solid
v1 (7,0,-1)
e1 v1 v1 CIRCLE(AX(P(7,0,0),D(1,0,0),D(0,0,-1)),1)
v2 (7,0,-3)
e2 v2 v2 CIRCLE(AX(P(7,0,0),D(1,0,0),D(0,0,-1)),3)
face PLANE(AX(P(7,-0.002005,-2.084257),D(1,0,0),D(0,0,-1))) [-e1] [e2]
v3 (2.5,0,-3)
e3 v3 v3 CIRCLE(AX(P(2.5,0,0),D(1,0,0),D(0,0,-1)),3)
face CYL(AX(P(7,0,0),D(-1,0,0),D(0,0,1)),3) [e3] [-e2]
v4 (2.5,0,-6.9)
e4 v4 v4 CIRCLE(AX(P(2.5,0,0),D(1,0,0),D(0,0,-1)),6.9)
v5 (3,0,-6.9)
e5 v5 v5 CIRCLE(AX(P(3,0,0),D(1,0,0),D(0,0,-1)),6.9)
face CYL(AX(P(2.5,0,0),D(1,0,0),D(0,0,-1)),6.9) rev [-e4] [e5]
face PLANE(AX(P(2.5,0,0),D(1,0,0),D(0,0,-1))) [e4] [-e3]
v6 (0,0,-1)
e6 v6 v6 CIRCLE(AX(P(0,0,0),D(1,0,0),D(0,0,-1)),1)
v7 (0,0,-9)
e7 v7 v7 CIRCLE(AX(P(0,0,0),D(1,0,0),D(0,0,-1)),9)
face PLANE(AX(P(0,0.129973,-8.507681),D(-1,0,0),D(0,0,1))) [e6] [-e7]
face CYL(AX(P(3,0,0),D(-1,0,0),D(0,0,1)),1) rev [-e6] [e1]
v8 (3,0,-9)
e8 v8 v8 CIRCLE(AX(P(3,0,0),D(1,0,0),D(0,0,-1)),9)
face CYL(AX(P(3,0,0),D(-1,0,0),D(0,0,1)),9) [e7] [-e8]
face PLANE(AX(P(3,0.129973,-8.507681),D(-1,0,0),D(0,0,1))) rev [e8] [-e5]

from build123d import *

# Parameters (mm, degrees)
ESQUISSE2_R             = 1
BOSS_EXTRU_1_DEPTH      = 3
ESQUISSE3_R             = 6.9
ENL_V_MAT_EXTRU_1_DEPTH = 0.5
ESQUISSE4_R             = 1
BOSS_EXTRU_2_DEPTH      = 4.5
BOSS_EXTRU_5_START      = -3
ESQUISSE7_R             = 9
ESQUISSE7_R_2           = 6.9
BOSS_EXTRU_5_DEPTH      = 3
BOSS_EXTRU_6_START      = -4.5
ESQUISSE8_R             = 3
ESQUISSE8_R_2           = 1
BOSS_EXTRU_6_DEPTH      = 4.5


with BuildPart() as part:
    # Esquisse2 → Boss.-Extru.1 (new body)
    with BuildSketch(Plane(origin=(0, 0, 0), x_dir=(0, 0, -1), z_dir=(1, 0, 0))):
        with BuildLine():
            ThreePointArc((8.992678526, 0.362950305), (8.983203595, 0.549593642), (8.969855294, 0.736000007))
            add(Edge.make_bspline(
                [(7.928017131, 0.973718567), (7.968735547, 0.978720051), (8.14599471, 0.972060465), (8.43210917, 0.923262044), (8.735368899, 0.829543111), (8.90576586, 0.762906571), (8.969855294, 0.736000007)],
                knots=[0, 0, 0, 0, 0.124841327, 0.52877899, 0.867841808, 1.076016146, 1.076016146, 1.076016146, 1.076016146], degree=3))
            ThreePointArc((7.928017131, 0.973718567), (7.845145349, 0.995861242), (7.801971612, 1.069983161))
            ThreePointArc((7.801971612, 1.069983161), (7.782401197, 1.204099918), (7.760525474, 1.337859996))
            ThreePointArc((7.760525474, 1.337859996), (7.7791127, 1.421320515), (7.851006147, 1.467607399))
            add(Edge.make_bspline(
                [(7.851006147, 1.467607399), (7.891911369, 1.47525391), (8.058869705, 1.535171146), (8.316858832, 1.668153777), (8.577616241, 1.849137964), (8.719907754, 1.964153953), (8.772869142, 2.009170729)],
                knots=[0, 0, 0, 0, 0.124841327, 0.52877899, 0.867841808, 1.076016146, 1.076016146, 1.076016146, 1.076016146], degree=3))
            ThreePointArc((8.772869142, 2.009170729), (8.729259916, 2.190895095), (8.681886815, 2.371674793))
            add(Edge.make_bspline(
                [(7.614107256, 2.413908484), (7.653213344, 2.426306797), (7.828678029, 2.452331888), (8.118887532, 2.456937748), (8.434204497, 2.420538386), (8.613944558, 2.38634682), (8.681886815, 2.371674793)],
                knots=[0, 0, 0, 0, 0.124841327, 0.52877899, 0.867841808, 1.076016146, 1.076016146, 1.076016146, 1.076016146], degree=3))
            ThreePointArc((7.614107256, 2.413908484), (7.528577818, 2.420446487), (7.472519329, 2.485373186))
            ThreePointArc((7.472519329, 2.485373186), (7.428638248, 2.613610296), (7.382556651, 2.741073201))
            ThreePointArc((7.382556651, 2.741073201), (7.385491564, 2.82652804), (7.447655696, 2.885237188))
            add(Edge.make_bspline(
                [(7.447655696, 2.885237188), (7.486459386, 2.900269817), (7.639565176, 2.989845363), (7.868726054, 3.167969089), (8.091787815, 3.393785724), (8.210522412, 3.532989345), (8.254310221, 3.586971254)],
                knots=[0, 0, 0, 0, 0.124841327, 0.52877899, 0.867841808, 1.076016146, 1.076016146, 1.076016146, 1.076016146], degree=3))
            ThreePointArc((8.254310221, 3.586971254), (8.17805176, 3.757588243), (8.098267094, 3.926585039))
            add(Edge.make_bspline(
                [(7.040908091, 3.771895641), (7.077070139, 3.791268575), (7.244765106, 3.849092091), (7.529186917, 3.906945383), (7.845823377, 3.92910513), (8.028785705, 3.928522889), (8.098267094, 3.926585039)],
                knots=[0, 0, 0, 0, 0.124841327, 0.52877899, 0.867841808, 1.076016146, 1.076016146, 1.076016146, 1.076016146], degree=3))
            ThreePointArc((7.040908091, 3.771895641), (6.955633599, 3.76260633), (6.888599363, 3.816126808))
            ThreePointArc((6.888599363, 3.816126808), (6.821901934, 3.93411731), (6.753183716, 4.050942446))
            ThreePointArc((6.753183716, 4.050942446), (6.740366371, 4.135481543), (6.790684263, 4.204613685))
            add(Edge.make_bspline(
                [(6.790684263, 4.204613685), (6.826065008, 4.226520515), (6.960104418, 4.342703981), (7.152633247, 4.559903013), (7.33040326, 4.822862182), (7.421537577, 4.981513022), (7.454660665, 5.042621775)],
                knots=[0, 0, 0, 0, 0.124841327, 0.52877899, 0.867841808, 1.076016146, 1.076016146, 1.076016146, 1.076016146], degree=3))
            ThreePointArc((7.454660665, 5.042621775), (7.34834986, 5.19632123), (7.2388706, 5.34778014))
            add(Edge.make_bspline(
                [(6.227939246, 5.001435417), (6.259925799, 5.027123248), (6.414140397, 5.114776078), (6.683088872, 5.223906679), (6.990262151, 5.303870911), (7.170216185, 5.336917824), (7.2388706, 5.34778014)],
                knots=[0, 0, 0, 0, 0.124841327, 0.52877899, 0.867841808, 1.076016146, 1.076016146, 1.076016146, 1.076016146], degree=3))
            ThreePointArc((6.227939246, 5.001435417), (6.14582362, 4.976635127), (6.070096408, 5.016926809))
            ThreePointArc((6.070096408, 5.016926809), (5.982853931, 5.120652678), (5.893839209, 5.222861704))
            ThreePointArc((5.893839209, 5.222861704), (5.865706085, 5.303606182), (5.902464222, 5.380807106))
            add(Edge.make_bspline(
                [(5.902464222, 5.380807106), (5.933217173, 5.408842125), (6.043625651, 5.547677024), (6.192966094, 5.79655491), (6.319390614, 6.087701853), (6.379821181, 6.260397247), (6.401151581, 6.32655186)],
                knots=[0, 0, 0, 0, 0.124841327, 0.52877899, 0.867841808, 1.076016146, 1.076016146, 1.076016146, 1.076016146], degree=3))
            ThreePointArc((6.401151581, 6.32655186), (6.268408719, 6.45809973), (6.13296305, 6.586863003))
            add(Edge.make_bspline(
                [(5.202885399, 6.060657308), (5.229607193, 6.091785269), (5.36508983, 6.206282501), (5.60940625, 6.362974098), (5.896655932, 6.498019729), (6.067473552, 6.563570423), (6.13296305, 6.586863003)],
                knots=[0, 0, 0, 0, 0.124841327, 0.52877899, 0.867841808, 1.076016146, 1.076016146, 1.076016146, 1.076016146], degree=3))
            ThreePointArc((5.202885399, 6.060657308), (5.126724989, 6.021190583), (5.044883599, 6.046881384))
            ThreePointArc((5.044883599, 6.046881384), (4.940067013, 6.13281036), (4.833787077, 6.216922671))
            ThreePointArc((4.833787077, 6.216922671), (4.791296214, 6.291122873), (4.813242841, 6.373763594))
            add(Edge.make_bspline(
                [(4.813242841, 6.373763594), (4.838320743, 6.406972104), (4.921338461, 6.563730579), (5.022404908, 6.835812081), (5.0931787, 7.145232139), (5.120847626, 7.326091153), (5.129658958, 7.395038808)],
                knots=[0, 0, 0, 0, 0.124841327, 0.52877899, 0.867841808, 1.076016146, 1.076016146, 1.076016146, 1.076016146], degree=3))
            ThreePointArc((5.129658958, 7.395038808), (4.975004437, 7.49995539), (4.818204799, 7.601638147))
            add(Edge.make_bspline(
                [(4.00065353, 6.913490784), (4.021200587, 6.948998848), (4.133337563, 7.086441417), (4.344702027, 7.285358066), (4.602246167, 7.470886279), (4.758110384, 7.566708503), (4.818204799, 7.601638147)],
                knots=[0, 0, 0, 0, 0.124841327, 0.52877899, 0.867841808, 1.076016146, 1.076016146, 1.076016146, 1.076016146], degree=3))
            ThreePointArc((4.00065353, 6.913490784), (3.933041887, 6.860701616), (3.84787333, 6.870916666))
            ThreePointArc((3.84787333, 6.870916666), (3.729052038, 6.936122541), (3.609126123, 6.999273793))
            ThreePointArc((3.609126123, 6.999273793), (3.553724497, 7.06440292), (3.560112248, 7.149669208))
            add(Edge.make_bspline(
                [(3.560112248, 7.149669208), (3.578661103, 7.186920332), (3.631460993, 7.356264162), (3.680811746, 7.64228387), (3.693524693, 7.959440113), (3.687489747, 8.142303811), (3.683481951, 8.21169658)],
                knots=[0, 0, 0, 0, 0.124841327, 0.52877899, 0.867841808, 1.076016146, 1.076016146, 1.076016146, 1.076016146], degree=3))
            ThreePointArc((3.683481951, 8.21169658), (3.512182346, 8.286409063), (3.339368362, 8.35754862))
            add(Edge.make_bspline(
                [(2.662184203, 7.530893622), (2.675856818, 7.569572607), (2.760829443, 7.72528007), (2.932044187, 7.959647903), (3.151112429, 8.189340757), (3.286715474, 8.3121714), (3.339368362, 8.35754862)],
                knots=[0, 0, 0, 0, 0.124841327, 0.52877899, 0.867841808, 1.076016146, 1.076016146, 1.076016146, 1.076016146], degree=3))
            ThreePointArc((2.662184203, 7.530893622), (2.605423761, 7.466579684), (2.51982835, 7.460971122))
            ThreePointArc((2.51982835, 7.460971122), (2.391048668, 7.503233388), (2.261560708, 7.543273041))
            ThreePointArc((2.261560708, 7.543273041), (2.195134954, 7.597113198), (2.185746302, 7.682101412))
            add(Edge.make_bspline(
                [(2.185746302, 7.682101412), (2.197134452, 7.722126608), (2.217918476, 7.898288992), (2.213872956, 8.188506848), (2.168092134, 8.502598901), (2.128558827, 8.681240079), (2.111868384, 8.748714873)],
                knots=[0, 0, 0, 0, 0.124841327, 0.52877899, 0.867841808, 1.076016146, 1.076016146, 1.076016146, 1.076016146], degree=3))
            ThreePointArc((2.111868384, 8.748714873), (1.929757098, 8.790679015), (1.74681374, 8.8288528))
            add(Edge.make_bspline(
                [(1.233057386, 7.891840911), (1.239389954, 7.932373648), (1.294304588, 8.101043575), (1.419539098, 8.362881478), (1.592671336, 8.628917058), (1.70339541, 8.77457327), (1.74681374, 8.8288528)],
                knots=[0, 0, 0, 0, 0.124841327, 0.52877899, 0.867841808, 1.076016146, 1.076016146, 1.076016146, 1.076016146], degree=3))
            ThreePointArc((1.233057386, 7.891840911), (1.189081054, 7.818192336), (1.105973638, 7.796951155))
            ThreePointArc((1.105973638, 7.796951155), (0.971621004, 7.81483062), (0.836980555, 7.830395172))
            ThreePointArc((0.836980555, 7.830395172), (0.761792723, 7.871112898), (0.736947387, 7.952928866))
            add(Edge.make_bspline(
                [(0.736947387, 7.952928866), (0.740787022, 7.994365125), (0.728847405, 8.171347063), (0.671543377, 8.455880046), (0.568827797, 8.756211882), (0.49714239, 8.924547128), (0.468337672, 8.987806174)],
                knots=[0, 0, 0, 0, 0.124841327, 0.52877899, 0.867841808, 1.076016146, 1.076016146, 1.076016146, 1.076016146], degree=3))
            ThreePointArc((0.468337672, 8.987806174), (0.281616286, 8.995592936), (0.094773472, 8.999500986))
            add(Edge.make_bspline(
                [(-0.238059721, 7.984041022), (-0.239282848, 8.02504722), (-0.216296258, 8.200935757), (-0.141306691, 8.481327153), (-0.020006268, 8.774645937), (0.062068259, 8.938167571), (0.094773472, 8.999500986)],
                knots=[0, 0, 0, 0, 0.124841327, 0.52877899, 0.867841808, 1.076016146, 1.076016146, 1.076016146, 1.076016146], degree=3))
            ThreePointArc((-0.238059721, 7.984041022), (-0.267754383, 7.903565825), (-0.34554368, 7.867415368))
            ThreePointArc((-0.34554368, 7.867415368), (-0.480894049, 7.860303169), (-0.616101967, 7.850862587))
            ThreePointArc((-0.616101967, 7.850862587), (-0.697491446, 7.877071289), (-0.736947387, 7.952928866))
            add(Edge.make_bspline(
                [(-0.736947387, 7.952928866), (-0.740787022, 7.994365125), (-0.78504369, 8.166139711), (-0.893654807, 8.435298391), (-1.049807289, 8.711642568), (-1.151203635, 8.863939428), (-1.191141718, 8.920828516)],
                knots=[0, 0, 0, 0, 0.124841327, 0.52877899, 0.867841808, 1.076016146, 1.076016146, 1.076016146, 1.076016146], degree=3))
            ThreePointArc((-1.191141718, 8.920828516), (-1.376114631, 8.894172728), (-1.560494193, 8.863681959))
            add(Edge.make_bspline(
                [(-1.70106999, 7.804354193), (-1.70980716, 7.844437433), (-1.719531394, 8.021554909), (-1.697340451, 8.310951405), (-1.632002584, 8.621564774), (-1.581372552, 8.797383295), (-1.560494193, 8.863681959)],
                knots=[0, 0, 0, 0, 0.124841327, 0.52877899, 0.867841808, 1.076016146, 1.076016146, 1.076016146, 1.076016146], degree=3))
            ThreePointArc((-1.70106999, 7.804354193), (-1.715471765, 7.719792859), (-1.785293922, 7.669964186))
            ThreePointArc((-1.785293922, 7.669964186), (-1.917032831, 7.638102521), (-2.048203875, 7.603978293))
            ThreePointArc((-2.048203875, 7.603978293), (-2.13302338, 7.614785465), (-2.185746302, 7.682101412))
            add(Edge.make_bspline(
                [(-2.185746302, 7.682101412), (-2.197134452, 7.722126608), (-2.272201064, 7.882844264), (-2.428420647, 8.127462766), (-2.632692446, 8.370408715), (-2.760346802, 8.501480902), (-2.810058205, 8.550062742)],
                knots=[0, 0, 0, 0, 0.124841327, 0.52877899, 0.867841808, 1.076016146, 1.076016146, 1.076016146, 1.076016146], degree=3))
            ThreePointArc((-2.810058205, 8.550062742), (-2.986983615, 8.489872136), (-3.1626211, 8.426020875))
            add(Edge.make_bspline(
                [(-3.106152361, 7.358899441), (-3.12210604, 7.396694737), (-3.164209951, 7.569009628), (-3.195573318, 7.857556174), (-3.188423008, 8.174886562), (-3.170961618, 8.357014683), (-3.1626211, 8.426020875)],
                knots=[0, 0, 0, 0, 0.124841327, 0.52877899, 0.867841808, 1.076016146, 1.076016146, 1.076016146, 1.076016146], degree=3))
            ThreePointArc((-3.106152361, 7.358899441), (-3.104770813, 7.273131606), (-3.164248122, 7.211321573))
            ThreePointArc((-3.164248122, 7.211321573), (-3.287889359, 7.155795453), (-3.410556657, 7.098149639))
            ThreePointArc((-3.410556657, 7.098149639), (-3.49591776, 7.093187254), (-3.560112248, 7.149669208))
            add(Edge.make_bspline(
                [(-3.560112248, 7.149669208), (-3.578661103, 7.186920332), (-3.681981355, 7.331108011), (-3.880489536, 7.542856145), (-4.125924419, 7.744130633), (-4.275489668, 7.84951464), (-4.33328153, 7.888134836)],
                knots=[0, 0, 0, 0, 0.124841327, 0.52877899, 0.867841808, 1.076016146, 1.076016146, 1.076016146, 1.076016146], degree=3))
            ThreePointArc((-4.33328153, 7.888134836), (-4.496134454, 7.79645913), (-4.657048739, 7.701421755))
            add(Edge.make_bspline(
                [(-4.405458438, 6.662846196), (-4.428085343, 6.697066474), (-4.501135134, 6.858710803), (-4.584984768, 7.136581292), (-4.636265512, 7.449822393), (-4.652567389, 7.632057959), (-4.657048739, 7.701421755)],
                knots=[0, 0, 0, 0, 0.124841327, 0.52877899, 0.867841808, 1.076016146, 1.076016146, 1.076016146, 1.076016146], degree=3))
            ThreePointArc((-4.405458438, 6.662846196), (-4.388340616, 6.578792579), (-4.435447646, 6.507106053))
            ThreePointArc((-4.435447646, 6.507106053), (-4.546780759, 6.429806352), (-4.656767022, 6.350602011))
            ThreePointArc((-4.656767022, 6.350602011), (-4.739762855, 6.330039059), (-4.813242841, 6.373763594))
            add(Edge.make_bspline(
                [(-4.813242841, 6.373763594), (-4.838320743, 6.406972104), (-4.966376188, 6.529719667), (-5.200413007, 6.701386604), (-5.478652985, 6.85413547), (-5.645035862, 6.930242572), (-5.70894015, 6.957585958)],
                knots=[0, 0, 0, 0, 0.124841327, 0.52877899, 0.867841808, 1.076016146, 1.076016146, 1.076016146, 1.076016146], degree=3))
            ThreePointArc((-5.70894015, 6.957585958), (-5.852174827, 6.83754706), (-5.992886168, 6.714559954))
            add(Edge.make_bspline(
                [(-5.554741912, 5.739897714), (-5.58327151, 5.769377644), (-5.684779557, 5.914846807), (-5.81826006, 6.172578694), (-5.926225553, 6.471063457), (-5.975735558, 6.647200654), (-5.992886168, 6.714559954)],
                knots=[0, 0, 0, 0, 0.124841327, 0.52877899, 0.867841808, 1.076016146, 1.076016146, 1.076016146, 1.076016146], degree=3))
            ThreePointArc((-5.554741912, 5.739897714), (-5.522470742, 5.660420661), (-5.555603321, 5.58129884))
            ThreePointArc((-5.555603321, 5.58129884), (-5.650836993, 5.484857908), (-5.744396771, 5.386792249))
            ThreePointArc((-5.744396771, 5.386792249), (-5.82220101, 5.351328976), (-5.902464222, 5.380807106))
            add(Edge.make_bspline(
                [(-5.902464222, 5.380807106), (-5.933217173, 5.408842125), (-6.081647036, 5.505969552), (-6.34324265, 5.63170938), (-6.644812595, 5.730730945), (-6.82234713, 5.774969405), (-6.89018766, 5.790104836)],
                knots=[0, 0, 0, 0, 0.124841327, 0.52877899, 0.867841808, 1.076016146, 1.076016146, 1.076016146, 1.076016146], degree=3))
            ThreePointArc((-6.89018766, 5.790104836), (-7.008926405, 5.645790525), (-7.124643046, 5.499041868))
            add(Edge.make_bspline(
                [(-6.514865313, 4.6214839), (-6.548326063, 4.645219578), (-6.674835631, 4.769559798), (-6.853401485, 4.998376331), (-7.014375092, 5.271940217), (-7.095407219, 5.435980904), (-7.124643046, 5.499041868)],
                knots=[0, 0, 0, 0, 0.124841327, 0.52877899, 0.867841808, 1.076016146, 1.076016146, 1.076016146, 1.076016146], degree=3))
            ThreePointArc((-6.514865313, 4.6214839), (-6.46853975, 4.549289907), (-6.486569587, 4.46542719))
            ThreePointArc((-6.486569587, 4.46542719), (-6.562460751, 4.353129207), (-6.636407979, 4.239541737))
            ThreePointArc((-6.636407979, 4.239541737), (-6.706371093, 4.190385802), (-6.790684263, 4.204613685))
            add(Edge.make_bspline(
                [(-6.790684263, 4.204613685), (-6.826065008, 4.226520515), (-6.989814688, 4.294720246), (-7.270060773, 4.370251048), (-7.584691081, 4.41217325), (-7.767331549, 4.423036581), (-7.836798093, 4.425448638)],
                knots=[0, 0, 0, 0, 0.124841327, 0.52877899, 0.867841808, 1.076016146, 1.076016146, 1.076016146, 1.076016146], degree=3))
            ThreePointArc((-7.836798093, 4.425448638), (-7.9269974, 4.261773366), (-8.013778751, 4.096260505))
            add(Edge.make_bspline(
                [(-7.253132789, 3.345690994), (-7.290385226, 3.362874131), (-7.437588183, 3.46185115), (-7.655158542, 3.653960257), (-7.863658499, 3.893287376), (-7.973453297, 4.039645344), (-8.013778751, 4.096260505)],
                knots=[0, 0, 0, 0, 0.124841327, 0.52877899, 0.867841808, 1.076016146, 1.076016146, 1.076016146, 1.076016146], degree=3))
            ThreePointArc((-7.253132789, 3.345690994), (-7.194330395, 3.283238541), (-7.196643507, 3.197490772))
            ThreePointArc((-7.196643507, 3.197490772), (-7.250607779, 3.073159911), (-7.302424271, 2.947918717))
            ThreePointArc((-7.302424271, 2.947918717), (-7.362163751, 2.886744066), (-7.447655696, 2.885237188))
            add(Edge.make_bspline(
                [(-7.447655696, 2.885237188), (-7.486459386, 2.900269817), (-7.659952585, 2.937219394), (-7.949305695, 2.959969057), (-8.266282009, 2.943364287), (-8.447808808, 2.920482551), (-8.516535767, 2.910089094)],
                knots=[0, 0, 0, 0, 0.124841327, 0.52877899, 0.867841808, 1.076016146, 1.076016146, 1.076016146, 1.076016146], degree=3))
            ThreePointArc((-8.516535767, 2.910089094), (-8.575124006, 2.732626625), (-8.630014832, 2.553985905))
            add(Edge.make_bspline(
                [(-7.744403527, 1.955964595), (-7.784179063, 1.966010038), (-7.94706259, 2.036253313), (-8.196228356, 2.185112949), (-8.445154448, 2.382053302), (-8.579972987, 2.505744507), (-8.630014832, 2.553985905)],
                knots=[0, 0, 0, 0, 0.124841327, 0.52877899, 0.867841808, 1.076016146, 1.076016146, 1.076016146, 1.076016146], degree=3))
            ThreePointArc((-7.744403527, 1.955964595), (-7.675126748, 1.905380425), (-7.661644363, 1.820667641))
            ThreePointArc((-7.661644363, 1.820667641), (-7.691844055, 1.68853784), (-7.719765264, 1.55590786))
            ThreePointArc((-7.719765264, 1.55590786), (-7.767246753, 1.484797724), (-7.851006147, 1.467607399))
            add(Edge.make_bspline(
                [(-7.851006147, 1.467607399), (-7.891911369, 1.47525391), (-8.069239983, 1.479695059), (-8.357846547, 1.448888871), (-8.666374618, 1.374322583), (-8.84060607, 1.318474991), (-8.906253029, 1.295629957)],
                knots=[0, 0, 0, 0, 0.124841327, 0.52877899, 0.867841808, 1.076016146, 1.076016146, 1.076016146, 1.076016146], degree=3))
            ThreePointArc((-8.906253029, 1.295629957), (-8.93123505, 1.110423563), (-8.952366108, 0.924738377))
            add(Edge.make_bspline(
                [(-7.971947891, 0.499630167), (-8.012892019, 0.502195832), (-8.185909312, 0.541313312), (-8.458185443, 0.641854241), (-8.73906079, 0.78970126), (-8.894311987, 0.886513545), (-8.952366108, 0.924738377)],
                knots=[0, 0, 0, 0, 0.124841327, 0.52877899, 0.867841808, 1.076016146, 1.076016146, 1.076016146, 1.076016146], degree=3))
            ThreePointArc((-7.971947891, 0.499630167), (-7.894555864, 0.462636863), (-7.865737109, 0.381843858))
            ThreePointArc((-7.865737109, 0.381843858), (-7.871143807, 0.246414639), (-7.874218909, 0.110912427))
            ThreePointArc((-7.874218909, 0.110912427), (-7.907825483, 0.032288375), (-7.987, 0))
            add(Edge.make_bspline(
                [(-7.987, 0), (-8.028613776, 0), (-8.203739092, -0.028218518), (-8.481770958, -0.111531489), (-8.771344233, -0.241520028), (-8.932347096, -0.328431654), (-8.992678526, -0.362950305)],
                knots=[0, 0, 0, 0, 0.124841327, 0.52877899, 0.867841808, 1.076016146, 1.076016146, 1.076016146, 1.076016146], degree=3))
            ThreePointArc((-8.992678526, -0.362950305), (-8.983203595, -0.549593642), (-8.969855294, -0.736000007))
            add(Edge.make_bspline(
                [(-7.928017131, -0.973718567), (-7.968735547, -0.978720051), (-8.14599471, -0.972060465), (-8.43210917, -0.923262044), (-8.735368899, -0.829543111), (-8.90576586, -0.762906571), (-8.969855294, -0.736000007)],
                knots=[0, 0, 0, 0, 0.124841327, 0.52877899, 0.867841808, 1.076016146, 1.076016146, 1.076016146, 1.076016146], degree=3))
            ThreePointArc((-7.928017131, -0.973718567), (-7.845145349, -0.995861242), (-7.801971612, -1.069983161))
            ThreePointArc((-7.801971612, -1.069983161), (-7.782401197, -1.204099918), (-7.760525474, -1.337859996))
            ThreePointArc((-7.760525474, -1.337859996), (-7.7791127, -1.421320515), (-7.851006147, -1.467607399))
            add(Edge.make_bspline(
                [(-7.851006147, -1.467607399), (-7.891911369, -1.47525391), (-8.058869705, -1.535171146), (-8.316858832, -1.668153777), (-8.577616241, -1.849137964), (-8.719907754, -1.964153953), (-8.772869142, -2.009170729)],
                knots=[0, 0, 0, 0, 0.124841327, 0.52877899, 0.867841808, 1.076016146, 1.076016146, 1.076016146, 1.076016146], degree=3))
            ThreePointArc((-8.772869142, -2.009170729), (-8.729259916, -2.190895095), (-8.681886815, -2.371674793))
            add(Edge.make_bspline(
                [(-7.614107256, -2.413908484), (-7.653213344, -2.426306797), (-7.828678029, -2.452331888), (-8.118887532, -2.456937748), (-8.434204497, -2.420538386), (-8.613944558, -2.38634682), (-8.681886815, -2.371674793)],
                knots=[0, 0, 0, 0, 0.124841327, 0.52877899, 0.867841808, 1.076016146, 1.076016146, 1.076016146, 1.076016146], degree=3))
            ThreePointArc((-7.614107256, -2.413908484), (-7.528577818, -2.420446487), (-7.472519329, -2.485373186))
            ThreePointArc((-7.472519329, -2.485373186), (-7.428638248, -2.613610296), (-7.382556651, -2.741073201))
            ThreePointArc((-7.382556651, -2.741073201), (-7.385491564, -2.82652804), (-7.447655696, -2.885237188))
            add(Edge.make_bspline(
                [(-7.447655696, -2.885237188), (-7.486459386, -2.900269817), (-7.639565176, -2.989845363), (-7.868726054, -3.167969089), (-8.091787815, -3.393785724), (-8.210522412, -3.532989345), (-8.254310221, -3.586971254)],
                knots=[0, 0, 0, 0, 0.124841327, 0.52877899, 0.867841808, 1.076016146, 1.076016146, 1.076016146, 1.076016146], degree=3))
            ThreePointArc((-8.254310221, -3.586971254), (-8.17805176, -3.757588243), (-8.098267094, -3.926585039))
            add(Edge.make_bspline(
                [(-7.040908091, -3.771895641), (-7.077070139, -3.791268575), (-7.244765106, -3.849092091), (-7.529186917, -3.906945383), (-7.845823377, -3.92910513), (-8.028785705, -3.928522889), (-8.098267094, -3.926585039)],
                knots=[0, 0, 0, 0, 0.124841327, 0.52877899, 0.867841808, 1.076016146, 1.076016146, 1.076016146, 1.076016146], degree=3))
            ThreePointArc((-7.040908091, -3.771895641), (-6.955633599, -3.76260633), (-6.888599363, -3.816126808))
            ThreePointArc((-6.888599363, -3.816126808), (-6.821901934, -3.93411731), (-6.753183716, -4.050942446))
            ThreePointArc((-6.753183716, -4.050942446), (-6.740366371, -4.135481543), (-6.790684263, -4.204613685))
            add(Edge.make_bspline(
                [(-6.790684263, -4.204613685), (-6.826065008, -4.226520515), (-6.960104418, -4.342703981), (-7.152633247, -4.559903013), (-7.33040326, -4.822862182), (-7.421537577, -4.981513022), (-7.454660665, -5.042621775)],
                knots=[0, 0, 0, 0, 0.124841327, 0.52877899, 0.867841808, 1.076016146, 1.076016146, 1.076016146, 1.076016146], degree=3))
            ThreePointArc((-7.454660665, -5.042621775), (-7.34834986, -5.19632123), (-7.2388706, -5.34778014))
            add(Edge.make_bspline(
                [(-6.227939246, -5.001435417), (-6.259925799, -5.027123248), (-6.414140397, -5.114776078), (-6.683088872, -5.223906679), (-6.990262151, -5.303870911), (-7.170216185, -5.336917824), (-7.2388706, -5.34778014)],
                knots=[0, 0, 0, 0, 0.124841327, 0.52877899, 0.867841808, 1.076016146, 1.076016146, 1.076016146, 1.076016146], degree=3))
            ThreePointArc((-6.227939246, -5.001435417), (-6.14582362, -4.976635127), (-6.070096408, -5.016926809))
            ThreePointArc((-6.070096408, -5.016926809), (-5.982853931, -5.120652678), (-5.893839209, -5.222861704))
            ThreePointArc((-5.893839209, -5.222861704), (-5.865706085, -5.303606182), (-5.902464222, -5.380807106))
            add(Edge.make_bspline(
                [(-5.902464222, -5.380807106), (-5.933217173, -5.408842125), (-6.043625651, -5.547677024), (-6.192966094, -5.79655491), (-6.319390614, -6.087701853), (-6.379821181, -6.260397247), (-6.401151581, -6.32655186)],
                knots=[0, 0, 0, 0, 0.124841327, 0.52877899, 0.867841808, 1.076016146, 1.076016146, 1.076016146, 1.076016146], degree=3))
            ThreePointArc((-6.401151581, -6.32655186), (-6.268408719, -6.45809973), (-6.13296305, -6.586863003))
            add(Edge.make_bspline(
                [(-5.202885399, -6.060657308), (-5.229607193, -6.091785269), (-5.36508983, -6.206282501), (-5.60940625, -6.362974098), (-5.896655932, -6.498019729), (-6.067473552, -6.563570423), (-6.13296305, -6.586863003)],
                knots=[0, 0, 0, 0, 0.124841327, 0.52877899, 0.867841808, 1.076016146, 1.076016146, 1.076016146, 1.076016146], degree=3))
            ThreePointArc((-5.202885399, -6.060657308), (-5.126724989, -6.021190583), (-5.044883599, -6.046881384))
            ThreePointArc((-5.044883599, -6.046881384), (-4.940067013, -6.13281036), (-4.833787077, -6.216922671))
            ThreePointArc((-4.833787077, -6.216922671), (-4.791296214, -6.291122873), (-4.813242841, -6.373763594))
            add(Edge.make_bspline(
                [(-4.813242841, -6.373763594), (-4.838320743, -6.406972104), (-4.921338461, -6.563730579), (-5.022404908, -6.835812081), (-5.0931787, -7.145232139), (-5.120847626, -7.326091153), (-5.129658958, -7.395038808)],
                knots=[0, 0, 0, 0, 0.124841327, 0.52877899, 0.867841808, 1.076016146, 1.076016146, 1.076016146, 1.076016146], degree=3))
            ThreePointArc((-5.129658958, -7.395038808), (-4.975004437, -7.49995539), (-4.818204799, -7.601638147))
            add(Edge.make_bspline(
                [(-4.00065353, -6.913490784), (-4.021200587, -6.948998848), (-4.133337563, -7.086441417), (-4.344702027, -7.285358066), (-4.602246167, -7.470886279), (-4.758110384, -7.566708503), (-4.818204799, -7.601638147)],
                knots=[0, 0, 0, 0, 0.124841327, 0.52877899, 0.867841808, 1.076016146, 1.076016146, 1.076016146, 1.076016146], degree=3))
            ThreePointArc((-4.00065353, -6.913490784), (-3.933041887, -6.860701616), (-3.84787333, -6.870916666))
            ThreePointArc((-3.84787333, -6.870916666), (-3.729052038, -6.936122541), (-3.609126123, -6.999273793))
            ThreePointArc((-3.609126123, -6.999273793), (-3.553724497, -7.06440292), (-3.560112248, -7.149669208))
            add(Edge.make_bspline(
                [(-3.560112248, -7.149669208), (-3.578661103, -7.186920332), (-3.631460993, -7.356264162), (-3.680811746, -7.64228387), (-3.693524693, -7.959440113), (-3.687489747, -8.142303811), (-3.683481951, -8.21169658)],
                knots=[0, 0, 0, 0, 0.124841327, 0.52877899, 0.867841808, 1.076016146, 1.076016146, 1.076016146, 1.076016146], degree=3))
            ThreePointArc((-3.683481951, -8.21169658), (-3.512182346, -8.286409063), (-3.339368362, -8.35754862))
            add(Edge.make_bspline(
                [(-2.662184203, -7.530893622), (-2.675856818, -7.569572607), (-2.760829443, -7.72528007), (-2.932044187, -7.959647903), (-3.151112429, -8.189340757), (-3.286715474, -8.3121714), (-3.339368362, -8.35754862)],
                knots=[0, 0, 0, 0, 0.124841327, 0.52877899, 0.867841808, 1.076016146, 1.076016146, 1.076016146, 1.076016146], degree=3))
            ThreePointArc((-2.662184203, -7.530893622), (-2.605423761, -7.466579684), (-2.51982835, -7.460971122))
            ThreePointArc((-2.51982835, -7.460971122), (-2.391048668, -7.503233388), (-2.261560708, -7.543273041))
            ThreePointArc((-2.261560708, -7.543273041), (-2.195134954, -7.597113198), (-2.185746302, -7.682101412))
            add(Edge.make_bspline(
                [(-2.185746302, -7.682101412), (-2.197134452, -7.722126608), (-2.217918476, -7.898288992), (-2.213872956, -8.188506848), (-2.168092134, -8.502598901), (-2.128558827, -8.681240079), (-2.111868384, -8.748714873)],
                knots=[0, 0, 0, 0, 0.124841327, 0.52877899, 0.867841808, 1.076016146, 1.076016146, 1.076016146, 1.076016146], degree=3))
            ThreePointArc((-2.111868384, -8.748714873), (-1.929757098, -8.790679015), (-1.74681374, -8.8288528))
            add(Edge.make_bspline(
                [(-1.233057386, -7.891840911), (-1.239389954, -7.932373648), (-1.294304588, -8.101043575), (-1.419539098, -8.362881478), (-1.592671336, -8.628917058), (-1.70339541, -8.77457327), (-1.74681374, -8.8288528)],
                knots=[0, 0, 0, 0, 0.124841327, 0.52877899, 0.867841808, 1.076016146, 1.076016146, 1.076016146, 1.076016146], degree=3))
            ThreePointArc((-1.233057386, -7.891840911), (-1.189081054, -7.818192336), (-1.105973638, -7.796951155))
            ThreePointArc((-1.105973638, -7.796951155), (-0.971621004, -7.81483062), (-0.836980555, -7.830395172))
            ThreePointArc((-0.836980555, -7.830395172), (-0.761792723, -7.871112898), (-0.736947387, -7.952928866))
            add(Edge.make_bspline(
                [(-0.736947387, -7.952928866), (-0.740787022, -7.994365125), (-0.728847405, -8.171347063), (-0.671543377, -8.455880046), (-0.568827797, -8.756211882), (-0.49714239, -8.924547128), (-0.468337672, -8.987806174)],
                knots=[0, 0, 0, 0, 0.124841327, 0.52877899, 0.867841808, 1.076016146, 1.076016146, 1.076016146, 1.076016146], degree=3))
            ThreePointArc((-0.468337672, -8.987806174), (-0.281616286, -8.995592936), (-0.094773472, -8.999500986))
            add(Edge.make_bspline(
                [(0.238059721, -7.984041022), (0.239282848, -8.02504722), (0.216296258, -8.200935757), (0.141306691, -8.481327153), (0.020006268, -8.774645937), (-0.062068259, -8.938167571), (-0.094773472, -8.999500986)],
                knots=[0, 0, 0, 0, 0.124841327, 0.52877899, 0.867841808, 1.076016146, 1.076016146, 1.076016146, 1.076016146], degree=3))
            ThreePointArc((0.238059721, -7.984041022), (0.267754383, -7.903565825), (0.34554368, -7.867415368))
            ThreePointArc((0.34554368, -7.867415368), (0.480894049, -7.860303169), (0.616101967, -7.850862587))
            ThreePointArc((0.616101967, -7.850862587), (0.697491446, -7.877071289), (0.736947387, -7.952928866))
            add(Edge.make_bspline(
                [(0.736947387, -7.952928866), (0.740787022, -7.994365125), (0.78504369, -8.166139711), (0.893654807, -8.435298391), (1.049807289, -8.711642568), (1.151203635, -8.863939428), (1.191141718, -8.920828516)],
                knots=[0, 0, 0, 0, 0.124841327, 0.52877899, 0.867841808, 1.076016146, 1.076016146, 1.076016146, 1.076016146], degree=3))
            ThreePointArc((1.191141718, -8.920828516), (1.376114631, -8.894172728), (1.560494193, -8.863681959))
            add(Edge.make_bspline(
                [(1.70106999, -7.804354193), (1.70980716, -7.844437433), (1.719531394, -8.021554909), (1.697340451, -8.310951405), (1.632002584, -8.621564774), (1.581372552, -8.797383295), (1.560494193, -8.863681959)],
                knots=[0, 0, 0, 0, 0.124841327, 0.52877899, 0.867841808, 1.076016146, 1.076016146, 1.076016146, 1.076016146], degree=3))
            ThreePointArc((1.70106999, -7.804354193), (1.715471765, -7.719792859), (1.785293922, -7.669964186))
            ThreePointArc((1.785293922, -7.669964186), (1.917032831, -7.638102521), (2.048203875, -7.603978293))
            ThreePointArc((2.048203875, -7.603978293), (2.13302338, -7.614785465), (2.185746302, -7.682101412))
            add(Edge.make_bspline(
                [(2.185746302, -7.682101412), (2.197134452, -7.722126608), (2.272201064, -7.882844264), (2.428420647, -8.127462766), (2.632692446, -8.370408715), (2.760346802, -8.501480902), (2.810058205, -8.550062742)],
                knots=[0, 0, 0, 0, 0.124841327, 0.52877899, 0.867841808, 1.076016146, 1.076016146, 1.076016146, 1.076016146], degree=3))
            ThreePointArc((2.810058205, -8.550062742), (2.986983615, -8.489872136), (3.1626211, -8.426020875))
            add(Edge.make_bspline(
                [(3.106152361, -7.358899441), (3.12210604, -7.396694737), (3.164209951, -7.569009628), (3.195573318, -7.857556174), (3.188423008, -8.174886562), (3.170961618, -8.357014683), (3.1626211, -8.426020875)],
                knots=[0, 0, 0, 0, 0.124841327, 0.52877899, 0.867841808, 1.076016146, 1.076016146, 1.076016146, 1.076016146], degree=3))
            ThreePointArc((3.106152361, -7.358899441), (3.104770813, -7.273131606), (3.164248122, -7.211321573))
            ThreePointArc((3.164248122, -7.211321573), (3.287889359, -7.155795453), (3.410556657, -7.098149639))
            ThreePointArc((3.410556657, -7.098149639), (3.49591776, -7.093187254), (3.560112248, -7.149669208))
            add(Edge.make_bspline(
                [(3.560112248, -7.149669208), (3.578661103, -7.186920332), (3.681981355, -7.331108011), (3.880489536, -7.542856145), (4.125924419, -7.744130633), (4.275489668, -7.84951464), (4.33328153, -7.888134836)],
                knots=[0, 0, 0, 0, 0.124841327, 0.52877899, 0.867841808, 1.076016146, 1.076016146, 1.076016146, 1.076016146], degree=3))
            ThreePointArc((4.33328153, -7.888134836), (4.496134454, -7.79645913), (4.657048739, -7.701421755))
            add(Edge.make_bspline(
                [(4.405458438, -6.662846196), (4.428085343, -6.697066474), (4.501135134, -6.858710803), (4.584984768, -7.136581292), (4.636265512, -7.449822393), (4.652567389, -7.632057959), (4.657048739, -7.701421755)],
                knots=[0, 0, 0, 0, 0.124841327, 0.52877899, 0.867841808, 1.076016146, 1.076016146, 1.076016146, 1.076016146], degree=3))
            ThreePointArc((4.405458438, -6.662846196), (4.388340616, -6.578792579), (4.435447646, -6.507106053))
            ThreePointArc((4.435447646, -6.507106053), (4.546780759, -6.429806352), (4.656767022, -6.350602011))
            ThreePointArc((4.656767022, -6.350602011), (4.739762855, -6.330039059), (4.813242841, -6.373763594))
            add(Edge.make_bspline(
                [(4.813242841, -6.373763594), (4.838320743, -6.406972104), (4.966376188, -6.529719667), (5.200413007, -6.701386604), (5.478652985, -6.85413547), (5.645035862, -6.930242572), (5.70894015, -6.957585958)],
                knots=[0, 0, 0, 0, 0.124841327, 0.52877899, 0.867841808, 1.076016146, 1.076016146, 1.076016146, 1.076016146], degree=3))
            ThreePointArc((5.70894015, -6.957585958), (5.852174827, -6.83754706), (5.992886168, -6.714559954))
            add(Edge.make_bspline(
                [(5.554741912, -5.739897714), (5.58327151, -5.769377644), (5.684779557, -5.914846807), (5.81826006, -6.172578694), (5.926225553, -6.471063457), (5.975735558, -6.647200654), (5.992886168, -6.714559954)],
                knots=[0, 0, 0, 0, 0.124841327, 0.52877899, 0.867841808, 1.076016146, 1.076016146, 1.076016146, 1.076016146], degree=3))
            ThreePointArc((5.554741912, -5.739897714), (5.522470742, -5.660420661), (5.555603321, -5.58129884))
            ThreePointArc((5.555603321, -5.58129884), (5.650836993, -5.484857908), (5.744396771, -5.386792249))
            ThreePointArc((5.744396771, -5.386792249), (5.82220101, -5.351328976), (5.902464222, -5.380807106))
            add(Edge.make_bspline(
                [(5.902464222, -5.380807106), (5.933217173, -5.408842125), (6.081647036, -5.505969552), (6.34324265, -5.63170938), (6.644812595, -5.730730945), (6.82234713, -5.774969405), (6.89018766, -5.790104836)],
                knots=[0, 0, 0, 0, 0.124841327, 0.52877899, 0.867841808, 1.076016146, 1.076016146, 1.076016146, 1.076016146], degree=3))
            ThreePointArc((6.89018766, -5.790104836), (7.008926405, -5.645790525), (7.124643046, -5.499041868))
            add(Edge.make_bspline(
                [(6.514865313, -4.6214839), (6.548326063, -4.645219578), (6.674835631, -4.769559798), (6.853401485, -4.998376331), (7.014375092, -5.271940217), (7.095407219, -5.435980904), (7.124643046, -5.499041868)],
                knots=[0, 0, 0, 0, 0.124841327, 0.52877899, 0.867841808, 1.076016146, 1.076016146, 1.076016146, 1.076016146], degree=3))
            ThreePointArc((6.514865313, -4.6214839), (6.46853975, -4.549289907), (6.486569587, -4.46542719))
            ThreePointArc((6.486569587, -4.46542719), (6.562460751, -4.353129207), (6.636407979, -4.239541737))
            ThreePointArc((6.636407979, -4.239541737), (6.706371093, -4.190385802), (6.790684263, -4.204613685))
            add(Edge.make_bspline(
                [(6.790684263, -4.204613685), (6.826065008, -4.226520515), (6.989814688, -4.294720246), (7.270060773, -4.370251048), (7.584691081, -4.41217325), (7.767331549, -4.423036581), (7.836798093, -4.425448638)],
                knots=[0, 0, 0, 0, 0.124841327, 0.52877899, 0.867841808, 1.076016146, 1.076016146, 1.076016146, 1.076016146], degree=3))
            ThreePointArc((7.836798093, -4.425448638), (7.9269974, -4.261773366), (8.013778751, -4.096260505))
            add(Edge.make_bspline(
                [(7.253132789, -3.345690994), (7.290385226, -3.362874131), (7.437588183, -3.46185115), (7.655158542, -3.653960257), (7.863658499, -3.893287376), (7.973453297, -4.039645344), (8.013778751, -4.096260505)],
                knots=[0, 0, 0, 0, 0.124841327, 0.52877899, 0.867841808, 1.076016146, 1.076016146, 1.076016146, 1.076016146], degree=3))
            ThreePointArc((7.253132789, -3.345690994), (7.194330395, -3.283238541), (7.196643507, -3.197490772))
            ThreePointArc((7.196643507, -3.197490772), (7.250607779, -3.073159911), (7.302424271, -2.947918717))
            ThreePointArc((7.302424271, -2.947918717), (7.362163751, -2.886744066), (7.447655696, -2.885237188))
            add(Edge.make_bspline(
                [(7.447655696, -2.885237188), (7.486459386, -2.900269817), (7.659952585, -2.937219394), (7.949305695, -2.959969057), (8.266282009, -2.943364287), (8.447808808, -2.920482551), (8.516535767, -2.910089094)],
                knots=[0, 0, 0, 0, 0.124841327, 0.52877899, 0.867841808, 1.076016146, 1.076016146, 1.076016146, 1.076016146], degree=3))
            ThreePointArc((8.516535767, -2.910089094), (8.575124006, -2.732626625), (8.630014832, -2.553985905))
            add(Edge.make_bspline(
                [(7.744403527, -1.955964595), (7.784179063, -1.966010038), (7.94706259, -2.036253313), (8.196228356, -2.185112949), (8.445154448, -2.382053302), (8.579972987, -2.505744507), (8.630014832, -2.553985905)],
                knots=[0, 0, 0, 0, 0.124841327, 0.52877899, 0.867841808, 1.076016146, 1.076016146, 1.076016146, 1.076016146], degree=3))
            ThreePointArc((7.744403527, -1.955964595), (7.675126748, -1.905380425), (7.661644363, -1.820667641))
            ThreePointArc((7.661644363, -1.820667641), (7.691844055, -1.68853784), (7.719765264, -1.55590786))
            ThreePointArc((7.719765264, -1.55590786), (7.767246753, -1.484797724), (7.851006147, -1.467607399))
            add(Edge.make_bspline(
                [(7.851006147, -1.467607399), (7.891911369, -1.47525391), (8.069239983, -1.479695059), (8.357846547, -1.448888871), (8.666374618, -1.374322583), (8.84060607, -1.318474991), (8.906253029, -1.295629957)],
                knots=[0, 0, 0, 0, 0.124841327, 0.52877899, 0.867841808, 1.076016146, 1.076016146, 1.076016146, 1.076016146], degree=3))
            ThreePointArc((8.906253029, -1.295629957), (8.93123505, -1.110423563), (8.952366108, -0.924738377))
            add(Edge.make_bspline(
                [(7.971947891, -0.499630167), (8.012892019, -0.502195832), (8.185909312, -0.541313312), (8.458185443, -0.641854241), (8.73906079, -0.78970126), (8.894311987, -0.886513545), (8.952366108, -0.924738377)],
                knots=[0, 0, 0, 0, 0.124841327, 0.52877899, 0.867841808, 1.076016146, 1.076016146, 1.076016146, 1.076016146], degree=3))
            ThreePointArc((7.971947891, -0.499630167), (7.894555864, -0.462636863), (7.865737109, -0.381843858))
            ThreePointArc((7.865737109, -0.381843858), (7.871143807, -0.246414639), (7.874218909, -0.110912427))
            ThreePointArc((7.874218909, -0.110912427), (7.907825483, -0.032288375), (7.987, 0))
            add(Edge.make_bspline(
                [(7.987, 0), (8.028613776, 0), (8.203739092, 0.028218518), (8.481770958, 0.111531489), (8.771344233, 0.241520028), (8.932347096, 0.328431654), (8.992678526, 0.362950305)],
                knots=[0, 0, 0, 0, 0.124841327, 0.52877899, 0.867841808, 1.076016146, 1.076016146, 1.076016146, 1.076016146], degree=3))
        make_face()
        Circle(ESQUISSE2_R, mode=Mode.SUBTRACT)
    extrude(amount=BOSS_EXTRU_1_DEPTH)

    # Esquisse3 → Enlèv. mat.-Extru.1 (cut)
    with BuildSketch(Plane(origin=(3, 0, 0), x_dir=(0, 0, -1), z_dir=(1, 0, 0))):
        Circle(ESQUISSE3_R)
    extrude(amount=-ENL_V_MAT_EXTRU_1_DEPTH, mode=Mode.SUBTRACT)

    # Esquisse4 → Boss.-Extru.2 (add)
    with BuildSketch(Plane(origin=(2.5, 0, 0), x_dir=(0, 0, -1), z_dir=(1, 0, 0))):
        with BuildLine():
            ThreePointArc((2.977310095, 0.368272455), (2.955741127, 0.513414445), (2.927100903, 0.657328154))
            add(Edge.make_bspline(
                [(2.211403727, 0.79214554), (2.222779445, 0.796220429), (2.274133198, 0.805614359), (2.359373738, 0.810478726), (2.538607422, 0.796225963), (2.732062921, 0.744216047), (2.878239296, 0.681280138), (2.927100903, 0.657328154)],
                knots=[0, 0, 0, 0, 0.036250587, 0.155621312, 0.255291203, 0.575254513, 0.744084786, 0.744084786, 0.744084786, 0.744084786], degree=3))
            add(Edge.make_bspline(
                [(2.211403727, 0.79214554), (2.132130324, 0.763749064), (1.99001212, 0.681956821), (1.750090704, 0.694113528), (1.707279056, 0.775127876)],
                knots=[0, 0, 0, 0, 0.252617676, 0.527509393, 0.527509393, 0.527509393, 0.527509393], degree=3))
            ThreePointArc((1.707279056, 0.775127876), (1.657764419, 0.876037746), (1.602292085, 0.973799299))
            add(Edge.make_bspline(
                [(1.90038092, 1.380707558), (1.832256922, 1.331212576), (1.684611138, 1.259880414), (1.559480437, 1.054813647), (1.602292085, 0.973799299)],
                knots=[0, 0, 0, 0, 0.252617676, 0.527509393, 0.527509393, 0.527509393, 0.527509393], degree=3))
            add(Edge.make_bspline(
                [(1.90038092, 1.380707558), (1.9101567, 1.387810078), (1.946851003, 1.424944725), (1.998895263, 1.49262786), (2.088102134, 1.648736761), (2.154127637, 1.837868182), (2.184488772, 1.994094501), (2.192229346, 2.04795764)],
                knots=[0, 0, 0, 0, 0.036250587, 0.155621312, 0.255291203, 0.575254513, 0.744084786, 0.744084786, 0.744084786, 0.744084786], degree=3))
            ThreePointArc((2.192229346, 2.04795764), (2.089467363, 2.152702055), (1.98170658, 2.25229639))
            add(Edge.make_bspline(
                [(1.32345173, 1.940689701), (1.33025972, 1.950672835), (1.366284165, 1.988457663), (1.432386008, 2.04249615), (1.585766668, 2.136316339), (1.772846116, 2.207949723), (1.928098087, 2.242953821), (1.98170658, 2.25229639)],
                knots=[0, 0, 0, 0, 0.036250587, 0.155621312, 0.255291203, 0.575254513, 0.744084786, 0.744084786, 0.744084786, 0.744084786], degree=3))
            add(Edge.make_bspline(
                [(1.32345173, 1.940689701), (1.27600923, 1.871120733), (1.209109462, 1.721414433), (1.007863426, 1.590227146), (0.925609036, 1.630605075)],
                knots=[0, 0, 0, 0, 0.252617676, 0.527509393, 0.527509393, 0.527509393, 0.527509393], degree=3))
            ThreePointArc((0.925609036, 1.630605075), (0.82623752, 1.683138901), (0.72389666, 1.729623839))
            add(Edge.make_bspline(
                [(0.72588092, 2.234031757), (0.699859868, 2.153947194), (0.622339913, 2.009454248), (0.641642271, 1.770001768), (0.72389666, 1.729623839)],
                knots=[0, 0, 0, 0, 0.252617676, 0.527509393, 0.527509393, 0.527509393, 0.527509393], degree=3))
            add(Edge.make_bspline(
                [(0.72588092, 2.234031757), (0.729614936, 2.245523876), (0.737474053, 2.297134806), (0.739795594, 2.382482461), (0.720206959, 2.561211698), (0.662454053, 2.753031049), (0.595189201, 2.897266624), (0.569791499, 2.945392614)],
                knots=[0, 0, 0, 0, 0.036250587, 0.155621312, 0.255291203, 0.575254513, 0.744084786, 0.744084786, 0.744084786, 0.744084786], degree=3))
            ThreePointArc((0.569791499, 2.945392614), (0.425088085, 2.969730648), (0.279367699, 2.986963958))
            add(Edge.make_bspline(
                [(-0.070013845, 2.347956359), (-0.070374004, 2.360034519), (-0.063438981, 2.411777724), (-0.041724492, 2.494349468), (0.027216945, 2.660406485), (0.136462351, 2.82832165), (0.241488941, 2.947895379), (0.279367699, 2.986963958)],
                knots=[0, 0, 0, 0, 0.036250587, 0.155621312, 0.255291203, 0.575254513, 0.744084786, 0.744084786, 0.744084786, 0.744084786], degree=3))
            add(Edge.make_bspline(
                [(-0.070013845, 2.347956359), (-0.06750402, 2.263787878), (-0.033631914, 2.103350241), (-0.119333425, 1.878928045), (-0.209612175, 1.863246558)],
                knots=[0, 0, 0, 0, 0.252617676, 0.527509393, 0.527509393, 0.527509393, 0.527509393], degree=3))
            ThreePointArc((-0.209612175, 1.863246558), (-0.320884028, 1.847338204), (-0.431002684, 1.824790861))
            add(Edge.make_bspline(
                [(-0.72588092, 2.234031757), (-0.699859868, 2.153947194), (-0.677644007, 1.991484859), (-0.521281435, 1.809109374), (-0.431002684, 1.824790861)],
                knots=[0, 0, 0, 0, 0.252617676, 0.527509393, 0.527509393, 0.527509393, 0.527509393], degree=3))
            add(Edge.make_bspline(
                [(-0.72588092, 2.234031757), (-0.729614936, 2.245523876), (-0.75359292, 2.291897469), (-0.801880846, 2.36230974), (-0.922782795, 2.495390819), (-1.082254463, 2.616629628), (-1.221452415, 2.693781371), (-1.270287335, 2.717787719)],
                knots=[0, 0, 0, 0, 0.036250587, 0.155621312, 0.255291203, 0.575254513, 0.744084786, 0.744084786, 0.744084786, 0.744084786], degree=3))
            ThreePointArc((-1.270287335, 2.717787719), (-1.401660393, 2.65242307), (-1.529680147, 2.580712818))
            add(Edge.make_bspline(
                [(-1.436736511, 1.858383491), (-1.44412725, 1.867943232), (-1.468930592, 1.913880668), (-1.499897654, 1.993446068), (-1.541728726, 2.168311777), (-1.552045394, 2.368370838), (-1.537360771, 2.526841097), (-1.529680147, 2.580712818)],
                knots=[0, 0, 0, 0, 0.036250587, 0.155621312, 0.255291203, 0.575254513, 0.744084786, 0.744084786, 0.744084786, 0.744084786], degree=3))
            add(Edge.make_bspline(
                [(-1.436736511, 1.858383491), (-1.385233029, 1.791764998), (-1.263527042, 1.681877747), (-1.200948963, 1.449942292), (-1.26476866, 1.384191185)],
                knots=[0, 0, 0, 0, 0.252617676, 0.527509393, 0.527509393, 0.527509393, 0.527509393], degree=3))
            ThreePointArc((-1.26476866, 1.384191185), (-1.345438785, 1.305917102), (-1.421273653, 1.222949796))
            add(Edge.make_bspline(
                [(-1.90038092, 1.380707558), (-1.832256922, 1.331212576), (-1.718790948, 1.212835941), (-1.48509335, 1.157198689), (-1.421273653, 1.222949796)],
                knots=[0, 0, 0, 0, 0.252617676, 0.527509393, 0.527509393, 0.527509393, 0.527509393], degree=3))
            add(Edge.make_bspline(
                [(-1.90038092, 1.380707558), (-1.9101567, 1.387810078), (-1.956813011, 1.411233197), (-2.037266059, 1.43981499), (-2.213300886, 1.476415463), (-2.413578559, 1.480764624), (-2.571540724, 1.461363192), (-2.625159582, 1.45208029)],
                knots=[0, 0, 0, 0, 0.036250587, 0.155621312, 0.255291203, 0.575254513, 0.744084786, 0.744084786, 0.744084786, 0.744084786], degree=3))
            ThreePointArc((-2.625159582, 1.45208029), (-2.693022242, 1.321980032), (-2.75444217, 1.188717096))
            add(Edge.make_bspline(
                [(-2.254674663, 0.658971294), (-2.266272971, 0.662361119), (-2.313340644, 0.684946248), (-2.385160892, 0.731114025), (-2.521786425, 0.847995669), (-2.64772455, 1.003782864), (-2.728990923, 1.140619401), (-2.75444217, 1.188717096)],
                knots=[0, 0, 0, 0, 0.036250587, 0.155621312, 0.255291203, 0.575254513, 0.744084786, 0.744084786, 0.744084786, 0.744084786], degree=3))
            add(Edge.make_bspline(
                [(-2.254674663, 0.658971294), (-2.173850103, 0.635348788), (-2.010797786, 0.617985118), (-1.823842817, 0.467127866), (-1.836826505, 0.376421826)],
                knots=[0, 0, 0, 0, 0.252617676, 0.527509393, 0.527509393, 0.527509393, 0.527509393], degree=3))
            ThreePointArc((-1.836826505, 0.376421826), (-1.856081655, 0.265680053), (-1.868666393, 0.153983476))
            add(Edge.make_bspline(
                [(-2.349, 0), (-2.264794108, 0), (-2.103418166, -0.029075083), (-1.881650081, 0.063277436), (-1.868666393, 0.153983476)],
                knots=[0, 0, 0, 0, 0.252617676, 0.527509393, 0.527509393, 0.527509393, 0.527509393], degree=3))
            add(Edge.make_bspline(
                [(-2.349, 0), (-2.361083529, 0), (-2.412597041, -0.00847419), (-2.494484881, -0.032640149), (-2.658413265, -0.106500419), (-2.822997679, -0.220702136), (-2.93938788, -0.329246056), (-2.977310095, -0.368272455)],
                knots=[0, 0, 0, 0, 0.036250587, 0.155621312, 0.255291203, 0.575254513, 0.744084786, 0.744084786, 0.744084786, 0.744084786], degree=3))
            ThreePointArc((-2.977310095, -0.368272455), (-2.955741127, -0.513414445), (-2.927100903, -0.657328154))
            add(Edge.make_bspline(
                [(-2.211403727, -0.79214554), (-2.222779445, -0.796220429), (-2.274133198, -0.805614359), (-2.359373738, -0.810478726), (-2.538607422, -0.796225963), (-2.732062921, -0.744216047), (-2.878239296, -0.681280138), (-2.927100903, -0.657328154)],
                knots=[0, 0, 0, 0, 0.036250587, 0.155621312, 0.255291203, 0.575254513, 0.744084786, 0.744084786, 0.744084786, 0.744084786], degree=3))
            add(Edge.make_bspline(
                [(-2.211403727, -0.79214554), (-2.132130324, -0.763749064), (-1.99001212, -0.681956821), (-1.750090704, -0.694113528), (-1.707279056, -0.775127876)],
                knots=[0, 0, 0, 0, 0.252617676, 0.527509393, 0.527509393, 0.527509393, 0.527509393], degree=3))
            ThreePointArc((-1.707279056, -0.775127876), (-1.657764419, -0.876037746), (-1.602292085, -0.973799299))
            add(Edge.make_bspline(
                [(-1.90038092, -1.380707558), (-1.832256922, -1.331212576), (-1.684611138, -1.259880414), (-1.559480437, -1.054813647), (-1.602292085, -0.973799299)],
                knots=[0, 0, 0, 0, 0.252617676, 0.527509393, 0.527509393, 0.527509393, 0.527509393], degree=3))
            add(Edge.make_bspline(
                [(-1.90038092, -1.380707558), (-1.9101567, -1.387810078), (-1.946851003, -1.424944725), (-1.998895263, -1.49262786), (-2.088102134, -1.648736761), (-2.154127637, -1.837868182), (-2.184488772, -1.994094501), (-2.192229346, -2.04795764)],
                knots=[0, 0, 0, 0, 0.036250587, 0.155621312, 0.255291203, 0.575254513, 0.744084786, 0.744084786, 0.744084786, 0.744084786], degree=3))
            ThreePointArc((-2.192229346, -2.04795764), (-2.089467363, -2.152702055), (-1.98170658, -2.25229639))
            add(Edge.make_bspline(
                [(-1.32345173, -1.940689701), (-1.33025972, -1.950672835), (-1.366284165, -1.988457663), (-1.432386008, -2.04249615), (-1.585766668, -2.136316339), (-1.772846116, -2.207949723), (-1.928098087, -2.242953821), (-1.98170658, -2.25229639)],
                knots=[0, 0, 0, 0, 0.036250587, 0.155621312, 0.255291203, 0.575254513, 0.744084786, 0.744084786, 0.744084786, 0.744084786], degree=3))
            add(Edge.make_bspline(
                [(-1.32345173, -1.940689701), (-1.27600923, -1.871120733), (-1.209109462, -1.721414433), (-1.007863426, -1.590227146), (-0.925609036, -1.630605075)],
                knots=[0, 0, 0, 0, 0.252617676, 0.527509393, 0.527509393, 0.527509393, 0.527509393], degree=3))
            ThreePointArc((-0.925609036, -1.630605075), (-0.82623752, -1.683138901), (-0.72389666, -1.729623839))
            add(Edge.make_bspline(
                [(-0.72588092, -2.234031757), (-0.699859868, -2.153947194), (-0.622339913, -2.009454248), (-0.641642271, -1.770001768), (-0.72389666, -1.729623839)],
                knots=[0, 0, 0, 0, 0.252617676, 0.527509393, 0.527509393, 0.527509393, 0.527509393], degree=3))
            add(Edge.make_bspline(
                [(-0.72588092, -2.234031757), (-0.729614936, -2.245523876), (-0.737474053, -2.297134806), (-0.739795594, -2.382482461), (-0.720206959, -2.561211698), (-0.662454053, -2.753031049), (-0.595189201, -2.897266624), (-0.569791499, -2.945392614)],
                knots=[0, 0, 0, 0, 0.036250587, 0.155621312, 0.255291203, 0.575254513, 0.744084786, 0.744084786, 0.744084786, 0.744084786], degree=3))
            ThreePointArc((-0.569791499, -2.945392614), (-0.425088085, -2.969730648), (-0.279367699, -2.986963958))
            add(Edge.make_bspline(
                [(0.070013845, -2.347956359), (0.070374004, -2.360034519), (0.063438981, -2.411777724), (0.041724492, -2.494349468), (-0.027216945, -2.660406485), (-0.136462351, -2.82832165), (-0.241488941, -2.947895379), (-0.279367699, -2.986963958)],
                knots=[0, 0, 0, 0, 0.036250587, 0.155621312, 0.255291203, 0.575254513, 0.744084786, 0.744084786, 0.744084786, 0.744084786], degree=3))
            add(Edge.make_bspline(
                [(0.070013845, -2.347956359), (0.06750402, -2.263787879), (0.033631914, -2.103350241), (0.119333425, -1.878928045), (0.209612175, -1.863246558)],
                knots=[0, 0, 0, 0, 0.252617676, 0.527509393, 0.527509393, 0.527509393, 0.527509393], degree=3))
            ThreePointArc((0.209612175, -1.863246558), (0.320884028, -1.847338204), (0.431002684, -1.824790861))
            add(Edge.make_bspline(
                [(0.72588092, -2.234031757), (0.699859868, -2.153947194), (0.677644007, -1.991484859), (0.521281435, -1.809109374), (0.431002684, -1.824790861)],
                knots=[0, 0, 0, 0, 0.252617676, 0.527509393, 0.527509393, 0.527509393, 0.527509393], degree=3))
            add(Edge.make_bspline(
                [(0.72588092, -2.234031757), (0.729614936, -2.245523876), (0.75359292, -2.291897469), (0.801880846, -2.36230974), (0.922782795, -2.495390819), (1.082254463, -2.616629628), (1.221452415, -2.693781371), (1.270287335, -2.717787719)],
                knots=[0, 0, 0, 0, 0.036250587, 0.155621312, 0.255291203, 0.575254513, 0.744084786, 0.744084786, 0.744084786, 0.744084786], degree=3))
            ThreePointArc((1.270287335, -2.717787719), (1.401660393, -2.65242307), (1.529680147, -2.580712818))
            add(Edge.make_bspline(
                [(1.436736511, -1.858383491), (1.44412725, -1.867943232), (1.468930592, -1.913880668), (1.499897654, -1.993446068), (1.541728726, -2.168311777), (1.552045394, -2.368370838), (1.537360771, -2.526841097), (1.529680147, -2.580712818)],
                knots=[0, 0, 0, 0, 0.036250587, 0.155621312, 0.255291203, 0.575254513, 0.744084786, 0.744084786, 0.744084786, 0.744084786], degree=3))
            add(Edge.make_bspline(
                [(1.436736511, -1.858383491), (1.385233029, -1.791764998), (1.263527042, -1.681877747), (1.200948963, -1.449942292), (1.26476866, -1.384191185)],
                knots=[0, 0, 0, 0, 0.252617676, 0.527509393, 0.527509393, 0.527509393, 0.527509393], degree=3))
            ThreePointArc((1.26476866, -1.384191185), (1.345438785, -1.305917102), (1.421273653, -1.222949796))
            add(Edge.make_bspline(
                [(1.90038092, -1.380707558), (1.832256922, -1.331212576), (1.718790948, -1.212835941), (1.48509335, -1.157198689), (1.421273653, -1.222949796)],
                knots=[0, 0, 0, 0, 0.252617676, 0.527509393, 0.527509393, 0.527509393, 0.527509393], degree=3))
            add(Edge.make_bspline(
                [(1.90038092, -1.380707558), (1.9101567, -1.387810078), (1.956813011, -1.411233197), (2.037266059, -1.43981499), (2.213300886, -1.476415463), (2.413578559, -1.480764624), (2.571540724, -1.461363192), (2.625159582, -1.45208029)],
                knots=[0, 0, 0, 0, 0.036250587, 0.155621312, 0.255291203, 0.575254513, 0.744084786, 0.744084786, 0.744084786, 0.744084786], degree=3))
            ThreePointArc((2.625159582, -1.45208029), (2.693022242, -1.321980032), (2.75444217, -1.188717096))
            add(Edge.make_bspline(
                [(2.254674663, -0.658971294), (2.266272971, -0.662361119), (2.313340644, -0.684946248), (2.385160892, -0.731114025), (2.521786425, -0.847995669), (2.64772455, -1.003782864), (2.728990923, -1.140619401), (2.75444217, -1.188717096)],
                knots=[0, 0, 0, 0, 0.036250587, 0.155621312, 0.255291203, 0.575254513, 0.744084786, 0.744084786, 0.744084786, 0.744084786], degree=3))
            add(Edge.make_bspline(
                [(2.254674663, -0.658971294), (2.173850103, -0.635348788), (2.010797786, -0.617985118), (1.823842817, -0.467127866), (1.836826505, -0.376421826)],
                knots=[0, 0, 0, 0, 0.252617676, 0.527509393, 0.527509393, 0.527509393, 0.527509393], degree=3))
            ThreePointArc((1.836826505, -0.376421826), (1.856081655, -0.265680053), (1.868666393, -0.153983476))
            add(Edge.make_bspline(
                [(2.349, 0), (2.264794108, 0), (2.103418166, 0.029075083), (1.881650081, -0.063277436), (1.868666393, -0.153983476)],
                knots=[0, 0, 0, 0, 0.252617676, 0.527509393, 0.527509393, 0.527509393, 0.527509393], degree=3))
            add(Edge.make_bspline(
                [(2.349, 0), (2.361083529, 0), (2.412597041, 0.00847419), (2.494484881, 0.032640149), (2.658413265, 0.106500419), (2.822997679, 0.220702136), (2.93938788, 0.329246056), (2.977310095, 0.368272455)],
                knots=[0, 0, 0, 0, 0.036250587, 0.155621312, 0.255291203, 0.575254513, 0.744084786, 0.744084786, 0.744084786, 0.744084786], degree=3))
        make_face()
        Circle(ESQUISSE4_R, mode=Mode.SUBTRACT)
    extrude(amount=BOSS_EXTRU_2_DEPTH)

    # Esquisse7 → Boss.-Extru.5 (add)
    with BuildSketch(Plane(origin=(3, 0, 0), x_dir=(0, 0, -1), z_dir=(1, 0, 0)).offset(BOSS_EXTRU_5_START)):
        Circle(ESQUISSE7_R)
        Circle(ESQUISSE7_R_2, mode=Mode.SUBTRACT)
    extrude(amount=BOSS_EXTRU_5_DEPTH)

    # Esquisse8 → Boss.-Extru.6 (add)
    with BuildSketch(Plane(origin=(7, 0, 0), x_dir=(0, 0, -1), z_dir=(1, 0, 0)).offset(BOSS_EXTRU_6_START)):
        Circle(ESQUISSE8_R)
        Circle(ESQUISSE8_R_2, mode=Mode.SUBTRACT)
    extrude(amount=BOSS_EXTRU_6_DEPTH)


solid = part.part
